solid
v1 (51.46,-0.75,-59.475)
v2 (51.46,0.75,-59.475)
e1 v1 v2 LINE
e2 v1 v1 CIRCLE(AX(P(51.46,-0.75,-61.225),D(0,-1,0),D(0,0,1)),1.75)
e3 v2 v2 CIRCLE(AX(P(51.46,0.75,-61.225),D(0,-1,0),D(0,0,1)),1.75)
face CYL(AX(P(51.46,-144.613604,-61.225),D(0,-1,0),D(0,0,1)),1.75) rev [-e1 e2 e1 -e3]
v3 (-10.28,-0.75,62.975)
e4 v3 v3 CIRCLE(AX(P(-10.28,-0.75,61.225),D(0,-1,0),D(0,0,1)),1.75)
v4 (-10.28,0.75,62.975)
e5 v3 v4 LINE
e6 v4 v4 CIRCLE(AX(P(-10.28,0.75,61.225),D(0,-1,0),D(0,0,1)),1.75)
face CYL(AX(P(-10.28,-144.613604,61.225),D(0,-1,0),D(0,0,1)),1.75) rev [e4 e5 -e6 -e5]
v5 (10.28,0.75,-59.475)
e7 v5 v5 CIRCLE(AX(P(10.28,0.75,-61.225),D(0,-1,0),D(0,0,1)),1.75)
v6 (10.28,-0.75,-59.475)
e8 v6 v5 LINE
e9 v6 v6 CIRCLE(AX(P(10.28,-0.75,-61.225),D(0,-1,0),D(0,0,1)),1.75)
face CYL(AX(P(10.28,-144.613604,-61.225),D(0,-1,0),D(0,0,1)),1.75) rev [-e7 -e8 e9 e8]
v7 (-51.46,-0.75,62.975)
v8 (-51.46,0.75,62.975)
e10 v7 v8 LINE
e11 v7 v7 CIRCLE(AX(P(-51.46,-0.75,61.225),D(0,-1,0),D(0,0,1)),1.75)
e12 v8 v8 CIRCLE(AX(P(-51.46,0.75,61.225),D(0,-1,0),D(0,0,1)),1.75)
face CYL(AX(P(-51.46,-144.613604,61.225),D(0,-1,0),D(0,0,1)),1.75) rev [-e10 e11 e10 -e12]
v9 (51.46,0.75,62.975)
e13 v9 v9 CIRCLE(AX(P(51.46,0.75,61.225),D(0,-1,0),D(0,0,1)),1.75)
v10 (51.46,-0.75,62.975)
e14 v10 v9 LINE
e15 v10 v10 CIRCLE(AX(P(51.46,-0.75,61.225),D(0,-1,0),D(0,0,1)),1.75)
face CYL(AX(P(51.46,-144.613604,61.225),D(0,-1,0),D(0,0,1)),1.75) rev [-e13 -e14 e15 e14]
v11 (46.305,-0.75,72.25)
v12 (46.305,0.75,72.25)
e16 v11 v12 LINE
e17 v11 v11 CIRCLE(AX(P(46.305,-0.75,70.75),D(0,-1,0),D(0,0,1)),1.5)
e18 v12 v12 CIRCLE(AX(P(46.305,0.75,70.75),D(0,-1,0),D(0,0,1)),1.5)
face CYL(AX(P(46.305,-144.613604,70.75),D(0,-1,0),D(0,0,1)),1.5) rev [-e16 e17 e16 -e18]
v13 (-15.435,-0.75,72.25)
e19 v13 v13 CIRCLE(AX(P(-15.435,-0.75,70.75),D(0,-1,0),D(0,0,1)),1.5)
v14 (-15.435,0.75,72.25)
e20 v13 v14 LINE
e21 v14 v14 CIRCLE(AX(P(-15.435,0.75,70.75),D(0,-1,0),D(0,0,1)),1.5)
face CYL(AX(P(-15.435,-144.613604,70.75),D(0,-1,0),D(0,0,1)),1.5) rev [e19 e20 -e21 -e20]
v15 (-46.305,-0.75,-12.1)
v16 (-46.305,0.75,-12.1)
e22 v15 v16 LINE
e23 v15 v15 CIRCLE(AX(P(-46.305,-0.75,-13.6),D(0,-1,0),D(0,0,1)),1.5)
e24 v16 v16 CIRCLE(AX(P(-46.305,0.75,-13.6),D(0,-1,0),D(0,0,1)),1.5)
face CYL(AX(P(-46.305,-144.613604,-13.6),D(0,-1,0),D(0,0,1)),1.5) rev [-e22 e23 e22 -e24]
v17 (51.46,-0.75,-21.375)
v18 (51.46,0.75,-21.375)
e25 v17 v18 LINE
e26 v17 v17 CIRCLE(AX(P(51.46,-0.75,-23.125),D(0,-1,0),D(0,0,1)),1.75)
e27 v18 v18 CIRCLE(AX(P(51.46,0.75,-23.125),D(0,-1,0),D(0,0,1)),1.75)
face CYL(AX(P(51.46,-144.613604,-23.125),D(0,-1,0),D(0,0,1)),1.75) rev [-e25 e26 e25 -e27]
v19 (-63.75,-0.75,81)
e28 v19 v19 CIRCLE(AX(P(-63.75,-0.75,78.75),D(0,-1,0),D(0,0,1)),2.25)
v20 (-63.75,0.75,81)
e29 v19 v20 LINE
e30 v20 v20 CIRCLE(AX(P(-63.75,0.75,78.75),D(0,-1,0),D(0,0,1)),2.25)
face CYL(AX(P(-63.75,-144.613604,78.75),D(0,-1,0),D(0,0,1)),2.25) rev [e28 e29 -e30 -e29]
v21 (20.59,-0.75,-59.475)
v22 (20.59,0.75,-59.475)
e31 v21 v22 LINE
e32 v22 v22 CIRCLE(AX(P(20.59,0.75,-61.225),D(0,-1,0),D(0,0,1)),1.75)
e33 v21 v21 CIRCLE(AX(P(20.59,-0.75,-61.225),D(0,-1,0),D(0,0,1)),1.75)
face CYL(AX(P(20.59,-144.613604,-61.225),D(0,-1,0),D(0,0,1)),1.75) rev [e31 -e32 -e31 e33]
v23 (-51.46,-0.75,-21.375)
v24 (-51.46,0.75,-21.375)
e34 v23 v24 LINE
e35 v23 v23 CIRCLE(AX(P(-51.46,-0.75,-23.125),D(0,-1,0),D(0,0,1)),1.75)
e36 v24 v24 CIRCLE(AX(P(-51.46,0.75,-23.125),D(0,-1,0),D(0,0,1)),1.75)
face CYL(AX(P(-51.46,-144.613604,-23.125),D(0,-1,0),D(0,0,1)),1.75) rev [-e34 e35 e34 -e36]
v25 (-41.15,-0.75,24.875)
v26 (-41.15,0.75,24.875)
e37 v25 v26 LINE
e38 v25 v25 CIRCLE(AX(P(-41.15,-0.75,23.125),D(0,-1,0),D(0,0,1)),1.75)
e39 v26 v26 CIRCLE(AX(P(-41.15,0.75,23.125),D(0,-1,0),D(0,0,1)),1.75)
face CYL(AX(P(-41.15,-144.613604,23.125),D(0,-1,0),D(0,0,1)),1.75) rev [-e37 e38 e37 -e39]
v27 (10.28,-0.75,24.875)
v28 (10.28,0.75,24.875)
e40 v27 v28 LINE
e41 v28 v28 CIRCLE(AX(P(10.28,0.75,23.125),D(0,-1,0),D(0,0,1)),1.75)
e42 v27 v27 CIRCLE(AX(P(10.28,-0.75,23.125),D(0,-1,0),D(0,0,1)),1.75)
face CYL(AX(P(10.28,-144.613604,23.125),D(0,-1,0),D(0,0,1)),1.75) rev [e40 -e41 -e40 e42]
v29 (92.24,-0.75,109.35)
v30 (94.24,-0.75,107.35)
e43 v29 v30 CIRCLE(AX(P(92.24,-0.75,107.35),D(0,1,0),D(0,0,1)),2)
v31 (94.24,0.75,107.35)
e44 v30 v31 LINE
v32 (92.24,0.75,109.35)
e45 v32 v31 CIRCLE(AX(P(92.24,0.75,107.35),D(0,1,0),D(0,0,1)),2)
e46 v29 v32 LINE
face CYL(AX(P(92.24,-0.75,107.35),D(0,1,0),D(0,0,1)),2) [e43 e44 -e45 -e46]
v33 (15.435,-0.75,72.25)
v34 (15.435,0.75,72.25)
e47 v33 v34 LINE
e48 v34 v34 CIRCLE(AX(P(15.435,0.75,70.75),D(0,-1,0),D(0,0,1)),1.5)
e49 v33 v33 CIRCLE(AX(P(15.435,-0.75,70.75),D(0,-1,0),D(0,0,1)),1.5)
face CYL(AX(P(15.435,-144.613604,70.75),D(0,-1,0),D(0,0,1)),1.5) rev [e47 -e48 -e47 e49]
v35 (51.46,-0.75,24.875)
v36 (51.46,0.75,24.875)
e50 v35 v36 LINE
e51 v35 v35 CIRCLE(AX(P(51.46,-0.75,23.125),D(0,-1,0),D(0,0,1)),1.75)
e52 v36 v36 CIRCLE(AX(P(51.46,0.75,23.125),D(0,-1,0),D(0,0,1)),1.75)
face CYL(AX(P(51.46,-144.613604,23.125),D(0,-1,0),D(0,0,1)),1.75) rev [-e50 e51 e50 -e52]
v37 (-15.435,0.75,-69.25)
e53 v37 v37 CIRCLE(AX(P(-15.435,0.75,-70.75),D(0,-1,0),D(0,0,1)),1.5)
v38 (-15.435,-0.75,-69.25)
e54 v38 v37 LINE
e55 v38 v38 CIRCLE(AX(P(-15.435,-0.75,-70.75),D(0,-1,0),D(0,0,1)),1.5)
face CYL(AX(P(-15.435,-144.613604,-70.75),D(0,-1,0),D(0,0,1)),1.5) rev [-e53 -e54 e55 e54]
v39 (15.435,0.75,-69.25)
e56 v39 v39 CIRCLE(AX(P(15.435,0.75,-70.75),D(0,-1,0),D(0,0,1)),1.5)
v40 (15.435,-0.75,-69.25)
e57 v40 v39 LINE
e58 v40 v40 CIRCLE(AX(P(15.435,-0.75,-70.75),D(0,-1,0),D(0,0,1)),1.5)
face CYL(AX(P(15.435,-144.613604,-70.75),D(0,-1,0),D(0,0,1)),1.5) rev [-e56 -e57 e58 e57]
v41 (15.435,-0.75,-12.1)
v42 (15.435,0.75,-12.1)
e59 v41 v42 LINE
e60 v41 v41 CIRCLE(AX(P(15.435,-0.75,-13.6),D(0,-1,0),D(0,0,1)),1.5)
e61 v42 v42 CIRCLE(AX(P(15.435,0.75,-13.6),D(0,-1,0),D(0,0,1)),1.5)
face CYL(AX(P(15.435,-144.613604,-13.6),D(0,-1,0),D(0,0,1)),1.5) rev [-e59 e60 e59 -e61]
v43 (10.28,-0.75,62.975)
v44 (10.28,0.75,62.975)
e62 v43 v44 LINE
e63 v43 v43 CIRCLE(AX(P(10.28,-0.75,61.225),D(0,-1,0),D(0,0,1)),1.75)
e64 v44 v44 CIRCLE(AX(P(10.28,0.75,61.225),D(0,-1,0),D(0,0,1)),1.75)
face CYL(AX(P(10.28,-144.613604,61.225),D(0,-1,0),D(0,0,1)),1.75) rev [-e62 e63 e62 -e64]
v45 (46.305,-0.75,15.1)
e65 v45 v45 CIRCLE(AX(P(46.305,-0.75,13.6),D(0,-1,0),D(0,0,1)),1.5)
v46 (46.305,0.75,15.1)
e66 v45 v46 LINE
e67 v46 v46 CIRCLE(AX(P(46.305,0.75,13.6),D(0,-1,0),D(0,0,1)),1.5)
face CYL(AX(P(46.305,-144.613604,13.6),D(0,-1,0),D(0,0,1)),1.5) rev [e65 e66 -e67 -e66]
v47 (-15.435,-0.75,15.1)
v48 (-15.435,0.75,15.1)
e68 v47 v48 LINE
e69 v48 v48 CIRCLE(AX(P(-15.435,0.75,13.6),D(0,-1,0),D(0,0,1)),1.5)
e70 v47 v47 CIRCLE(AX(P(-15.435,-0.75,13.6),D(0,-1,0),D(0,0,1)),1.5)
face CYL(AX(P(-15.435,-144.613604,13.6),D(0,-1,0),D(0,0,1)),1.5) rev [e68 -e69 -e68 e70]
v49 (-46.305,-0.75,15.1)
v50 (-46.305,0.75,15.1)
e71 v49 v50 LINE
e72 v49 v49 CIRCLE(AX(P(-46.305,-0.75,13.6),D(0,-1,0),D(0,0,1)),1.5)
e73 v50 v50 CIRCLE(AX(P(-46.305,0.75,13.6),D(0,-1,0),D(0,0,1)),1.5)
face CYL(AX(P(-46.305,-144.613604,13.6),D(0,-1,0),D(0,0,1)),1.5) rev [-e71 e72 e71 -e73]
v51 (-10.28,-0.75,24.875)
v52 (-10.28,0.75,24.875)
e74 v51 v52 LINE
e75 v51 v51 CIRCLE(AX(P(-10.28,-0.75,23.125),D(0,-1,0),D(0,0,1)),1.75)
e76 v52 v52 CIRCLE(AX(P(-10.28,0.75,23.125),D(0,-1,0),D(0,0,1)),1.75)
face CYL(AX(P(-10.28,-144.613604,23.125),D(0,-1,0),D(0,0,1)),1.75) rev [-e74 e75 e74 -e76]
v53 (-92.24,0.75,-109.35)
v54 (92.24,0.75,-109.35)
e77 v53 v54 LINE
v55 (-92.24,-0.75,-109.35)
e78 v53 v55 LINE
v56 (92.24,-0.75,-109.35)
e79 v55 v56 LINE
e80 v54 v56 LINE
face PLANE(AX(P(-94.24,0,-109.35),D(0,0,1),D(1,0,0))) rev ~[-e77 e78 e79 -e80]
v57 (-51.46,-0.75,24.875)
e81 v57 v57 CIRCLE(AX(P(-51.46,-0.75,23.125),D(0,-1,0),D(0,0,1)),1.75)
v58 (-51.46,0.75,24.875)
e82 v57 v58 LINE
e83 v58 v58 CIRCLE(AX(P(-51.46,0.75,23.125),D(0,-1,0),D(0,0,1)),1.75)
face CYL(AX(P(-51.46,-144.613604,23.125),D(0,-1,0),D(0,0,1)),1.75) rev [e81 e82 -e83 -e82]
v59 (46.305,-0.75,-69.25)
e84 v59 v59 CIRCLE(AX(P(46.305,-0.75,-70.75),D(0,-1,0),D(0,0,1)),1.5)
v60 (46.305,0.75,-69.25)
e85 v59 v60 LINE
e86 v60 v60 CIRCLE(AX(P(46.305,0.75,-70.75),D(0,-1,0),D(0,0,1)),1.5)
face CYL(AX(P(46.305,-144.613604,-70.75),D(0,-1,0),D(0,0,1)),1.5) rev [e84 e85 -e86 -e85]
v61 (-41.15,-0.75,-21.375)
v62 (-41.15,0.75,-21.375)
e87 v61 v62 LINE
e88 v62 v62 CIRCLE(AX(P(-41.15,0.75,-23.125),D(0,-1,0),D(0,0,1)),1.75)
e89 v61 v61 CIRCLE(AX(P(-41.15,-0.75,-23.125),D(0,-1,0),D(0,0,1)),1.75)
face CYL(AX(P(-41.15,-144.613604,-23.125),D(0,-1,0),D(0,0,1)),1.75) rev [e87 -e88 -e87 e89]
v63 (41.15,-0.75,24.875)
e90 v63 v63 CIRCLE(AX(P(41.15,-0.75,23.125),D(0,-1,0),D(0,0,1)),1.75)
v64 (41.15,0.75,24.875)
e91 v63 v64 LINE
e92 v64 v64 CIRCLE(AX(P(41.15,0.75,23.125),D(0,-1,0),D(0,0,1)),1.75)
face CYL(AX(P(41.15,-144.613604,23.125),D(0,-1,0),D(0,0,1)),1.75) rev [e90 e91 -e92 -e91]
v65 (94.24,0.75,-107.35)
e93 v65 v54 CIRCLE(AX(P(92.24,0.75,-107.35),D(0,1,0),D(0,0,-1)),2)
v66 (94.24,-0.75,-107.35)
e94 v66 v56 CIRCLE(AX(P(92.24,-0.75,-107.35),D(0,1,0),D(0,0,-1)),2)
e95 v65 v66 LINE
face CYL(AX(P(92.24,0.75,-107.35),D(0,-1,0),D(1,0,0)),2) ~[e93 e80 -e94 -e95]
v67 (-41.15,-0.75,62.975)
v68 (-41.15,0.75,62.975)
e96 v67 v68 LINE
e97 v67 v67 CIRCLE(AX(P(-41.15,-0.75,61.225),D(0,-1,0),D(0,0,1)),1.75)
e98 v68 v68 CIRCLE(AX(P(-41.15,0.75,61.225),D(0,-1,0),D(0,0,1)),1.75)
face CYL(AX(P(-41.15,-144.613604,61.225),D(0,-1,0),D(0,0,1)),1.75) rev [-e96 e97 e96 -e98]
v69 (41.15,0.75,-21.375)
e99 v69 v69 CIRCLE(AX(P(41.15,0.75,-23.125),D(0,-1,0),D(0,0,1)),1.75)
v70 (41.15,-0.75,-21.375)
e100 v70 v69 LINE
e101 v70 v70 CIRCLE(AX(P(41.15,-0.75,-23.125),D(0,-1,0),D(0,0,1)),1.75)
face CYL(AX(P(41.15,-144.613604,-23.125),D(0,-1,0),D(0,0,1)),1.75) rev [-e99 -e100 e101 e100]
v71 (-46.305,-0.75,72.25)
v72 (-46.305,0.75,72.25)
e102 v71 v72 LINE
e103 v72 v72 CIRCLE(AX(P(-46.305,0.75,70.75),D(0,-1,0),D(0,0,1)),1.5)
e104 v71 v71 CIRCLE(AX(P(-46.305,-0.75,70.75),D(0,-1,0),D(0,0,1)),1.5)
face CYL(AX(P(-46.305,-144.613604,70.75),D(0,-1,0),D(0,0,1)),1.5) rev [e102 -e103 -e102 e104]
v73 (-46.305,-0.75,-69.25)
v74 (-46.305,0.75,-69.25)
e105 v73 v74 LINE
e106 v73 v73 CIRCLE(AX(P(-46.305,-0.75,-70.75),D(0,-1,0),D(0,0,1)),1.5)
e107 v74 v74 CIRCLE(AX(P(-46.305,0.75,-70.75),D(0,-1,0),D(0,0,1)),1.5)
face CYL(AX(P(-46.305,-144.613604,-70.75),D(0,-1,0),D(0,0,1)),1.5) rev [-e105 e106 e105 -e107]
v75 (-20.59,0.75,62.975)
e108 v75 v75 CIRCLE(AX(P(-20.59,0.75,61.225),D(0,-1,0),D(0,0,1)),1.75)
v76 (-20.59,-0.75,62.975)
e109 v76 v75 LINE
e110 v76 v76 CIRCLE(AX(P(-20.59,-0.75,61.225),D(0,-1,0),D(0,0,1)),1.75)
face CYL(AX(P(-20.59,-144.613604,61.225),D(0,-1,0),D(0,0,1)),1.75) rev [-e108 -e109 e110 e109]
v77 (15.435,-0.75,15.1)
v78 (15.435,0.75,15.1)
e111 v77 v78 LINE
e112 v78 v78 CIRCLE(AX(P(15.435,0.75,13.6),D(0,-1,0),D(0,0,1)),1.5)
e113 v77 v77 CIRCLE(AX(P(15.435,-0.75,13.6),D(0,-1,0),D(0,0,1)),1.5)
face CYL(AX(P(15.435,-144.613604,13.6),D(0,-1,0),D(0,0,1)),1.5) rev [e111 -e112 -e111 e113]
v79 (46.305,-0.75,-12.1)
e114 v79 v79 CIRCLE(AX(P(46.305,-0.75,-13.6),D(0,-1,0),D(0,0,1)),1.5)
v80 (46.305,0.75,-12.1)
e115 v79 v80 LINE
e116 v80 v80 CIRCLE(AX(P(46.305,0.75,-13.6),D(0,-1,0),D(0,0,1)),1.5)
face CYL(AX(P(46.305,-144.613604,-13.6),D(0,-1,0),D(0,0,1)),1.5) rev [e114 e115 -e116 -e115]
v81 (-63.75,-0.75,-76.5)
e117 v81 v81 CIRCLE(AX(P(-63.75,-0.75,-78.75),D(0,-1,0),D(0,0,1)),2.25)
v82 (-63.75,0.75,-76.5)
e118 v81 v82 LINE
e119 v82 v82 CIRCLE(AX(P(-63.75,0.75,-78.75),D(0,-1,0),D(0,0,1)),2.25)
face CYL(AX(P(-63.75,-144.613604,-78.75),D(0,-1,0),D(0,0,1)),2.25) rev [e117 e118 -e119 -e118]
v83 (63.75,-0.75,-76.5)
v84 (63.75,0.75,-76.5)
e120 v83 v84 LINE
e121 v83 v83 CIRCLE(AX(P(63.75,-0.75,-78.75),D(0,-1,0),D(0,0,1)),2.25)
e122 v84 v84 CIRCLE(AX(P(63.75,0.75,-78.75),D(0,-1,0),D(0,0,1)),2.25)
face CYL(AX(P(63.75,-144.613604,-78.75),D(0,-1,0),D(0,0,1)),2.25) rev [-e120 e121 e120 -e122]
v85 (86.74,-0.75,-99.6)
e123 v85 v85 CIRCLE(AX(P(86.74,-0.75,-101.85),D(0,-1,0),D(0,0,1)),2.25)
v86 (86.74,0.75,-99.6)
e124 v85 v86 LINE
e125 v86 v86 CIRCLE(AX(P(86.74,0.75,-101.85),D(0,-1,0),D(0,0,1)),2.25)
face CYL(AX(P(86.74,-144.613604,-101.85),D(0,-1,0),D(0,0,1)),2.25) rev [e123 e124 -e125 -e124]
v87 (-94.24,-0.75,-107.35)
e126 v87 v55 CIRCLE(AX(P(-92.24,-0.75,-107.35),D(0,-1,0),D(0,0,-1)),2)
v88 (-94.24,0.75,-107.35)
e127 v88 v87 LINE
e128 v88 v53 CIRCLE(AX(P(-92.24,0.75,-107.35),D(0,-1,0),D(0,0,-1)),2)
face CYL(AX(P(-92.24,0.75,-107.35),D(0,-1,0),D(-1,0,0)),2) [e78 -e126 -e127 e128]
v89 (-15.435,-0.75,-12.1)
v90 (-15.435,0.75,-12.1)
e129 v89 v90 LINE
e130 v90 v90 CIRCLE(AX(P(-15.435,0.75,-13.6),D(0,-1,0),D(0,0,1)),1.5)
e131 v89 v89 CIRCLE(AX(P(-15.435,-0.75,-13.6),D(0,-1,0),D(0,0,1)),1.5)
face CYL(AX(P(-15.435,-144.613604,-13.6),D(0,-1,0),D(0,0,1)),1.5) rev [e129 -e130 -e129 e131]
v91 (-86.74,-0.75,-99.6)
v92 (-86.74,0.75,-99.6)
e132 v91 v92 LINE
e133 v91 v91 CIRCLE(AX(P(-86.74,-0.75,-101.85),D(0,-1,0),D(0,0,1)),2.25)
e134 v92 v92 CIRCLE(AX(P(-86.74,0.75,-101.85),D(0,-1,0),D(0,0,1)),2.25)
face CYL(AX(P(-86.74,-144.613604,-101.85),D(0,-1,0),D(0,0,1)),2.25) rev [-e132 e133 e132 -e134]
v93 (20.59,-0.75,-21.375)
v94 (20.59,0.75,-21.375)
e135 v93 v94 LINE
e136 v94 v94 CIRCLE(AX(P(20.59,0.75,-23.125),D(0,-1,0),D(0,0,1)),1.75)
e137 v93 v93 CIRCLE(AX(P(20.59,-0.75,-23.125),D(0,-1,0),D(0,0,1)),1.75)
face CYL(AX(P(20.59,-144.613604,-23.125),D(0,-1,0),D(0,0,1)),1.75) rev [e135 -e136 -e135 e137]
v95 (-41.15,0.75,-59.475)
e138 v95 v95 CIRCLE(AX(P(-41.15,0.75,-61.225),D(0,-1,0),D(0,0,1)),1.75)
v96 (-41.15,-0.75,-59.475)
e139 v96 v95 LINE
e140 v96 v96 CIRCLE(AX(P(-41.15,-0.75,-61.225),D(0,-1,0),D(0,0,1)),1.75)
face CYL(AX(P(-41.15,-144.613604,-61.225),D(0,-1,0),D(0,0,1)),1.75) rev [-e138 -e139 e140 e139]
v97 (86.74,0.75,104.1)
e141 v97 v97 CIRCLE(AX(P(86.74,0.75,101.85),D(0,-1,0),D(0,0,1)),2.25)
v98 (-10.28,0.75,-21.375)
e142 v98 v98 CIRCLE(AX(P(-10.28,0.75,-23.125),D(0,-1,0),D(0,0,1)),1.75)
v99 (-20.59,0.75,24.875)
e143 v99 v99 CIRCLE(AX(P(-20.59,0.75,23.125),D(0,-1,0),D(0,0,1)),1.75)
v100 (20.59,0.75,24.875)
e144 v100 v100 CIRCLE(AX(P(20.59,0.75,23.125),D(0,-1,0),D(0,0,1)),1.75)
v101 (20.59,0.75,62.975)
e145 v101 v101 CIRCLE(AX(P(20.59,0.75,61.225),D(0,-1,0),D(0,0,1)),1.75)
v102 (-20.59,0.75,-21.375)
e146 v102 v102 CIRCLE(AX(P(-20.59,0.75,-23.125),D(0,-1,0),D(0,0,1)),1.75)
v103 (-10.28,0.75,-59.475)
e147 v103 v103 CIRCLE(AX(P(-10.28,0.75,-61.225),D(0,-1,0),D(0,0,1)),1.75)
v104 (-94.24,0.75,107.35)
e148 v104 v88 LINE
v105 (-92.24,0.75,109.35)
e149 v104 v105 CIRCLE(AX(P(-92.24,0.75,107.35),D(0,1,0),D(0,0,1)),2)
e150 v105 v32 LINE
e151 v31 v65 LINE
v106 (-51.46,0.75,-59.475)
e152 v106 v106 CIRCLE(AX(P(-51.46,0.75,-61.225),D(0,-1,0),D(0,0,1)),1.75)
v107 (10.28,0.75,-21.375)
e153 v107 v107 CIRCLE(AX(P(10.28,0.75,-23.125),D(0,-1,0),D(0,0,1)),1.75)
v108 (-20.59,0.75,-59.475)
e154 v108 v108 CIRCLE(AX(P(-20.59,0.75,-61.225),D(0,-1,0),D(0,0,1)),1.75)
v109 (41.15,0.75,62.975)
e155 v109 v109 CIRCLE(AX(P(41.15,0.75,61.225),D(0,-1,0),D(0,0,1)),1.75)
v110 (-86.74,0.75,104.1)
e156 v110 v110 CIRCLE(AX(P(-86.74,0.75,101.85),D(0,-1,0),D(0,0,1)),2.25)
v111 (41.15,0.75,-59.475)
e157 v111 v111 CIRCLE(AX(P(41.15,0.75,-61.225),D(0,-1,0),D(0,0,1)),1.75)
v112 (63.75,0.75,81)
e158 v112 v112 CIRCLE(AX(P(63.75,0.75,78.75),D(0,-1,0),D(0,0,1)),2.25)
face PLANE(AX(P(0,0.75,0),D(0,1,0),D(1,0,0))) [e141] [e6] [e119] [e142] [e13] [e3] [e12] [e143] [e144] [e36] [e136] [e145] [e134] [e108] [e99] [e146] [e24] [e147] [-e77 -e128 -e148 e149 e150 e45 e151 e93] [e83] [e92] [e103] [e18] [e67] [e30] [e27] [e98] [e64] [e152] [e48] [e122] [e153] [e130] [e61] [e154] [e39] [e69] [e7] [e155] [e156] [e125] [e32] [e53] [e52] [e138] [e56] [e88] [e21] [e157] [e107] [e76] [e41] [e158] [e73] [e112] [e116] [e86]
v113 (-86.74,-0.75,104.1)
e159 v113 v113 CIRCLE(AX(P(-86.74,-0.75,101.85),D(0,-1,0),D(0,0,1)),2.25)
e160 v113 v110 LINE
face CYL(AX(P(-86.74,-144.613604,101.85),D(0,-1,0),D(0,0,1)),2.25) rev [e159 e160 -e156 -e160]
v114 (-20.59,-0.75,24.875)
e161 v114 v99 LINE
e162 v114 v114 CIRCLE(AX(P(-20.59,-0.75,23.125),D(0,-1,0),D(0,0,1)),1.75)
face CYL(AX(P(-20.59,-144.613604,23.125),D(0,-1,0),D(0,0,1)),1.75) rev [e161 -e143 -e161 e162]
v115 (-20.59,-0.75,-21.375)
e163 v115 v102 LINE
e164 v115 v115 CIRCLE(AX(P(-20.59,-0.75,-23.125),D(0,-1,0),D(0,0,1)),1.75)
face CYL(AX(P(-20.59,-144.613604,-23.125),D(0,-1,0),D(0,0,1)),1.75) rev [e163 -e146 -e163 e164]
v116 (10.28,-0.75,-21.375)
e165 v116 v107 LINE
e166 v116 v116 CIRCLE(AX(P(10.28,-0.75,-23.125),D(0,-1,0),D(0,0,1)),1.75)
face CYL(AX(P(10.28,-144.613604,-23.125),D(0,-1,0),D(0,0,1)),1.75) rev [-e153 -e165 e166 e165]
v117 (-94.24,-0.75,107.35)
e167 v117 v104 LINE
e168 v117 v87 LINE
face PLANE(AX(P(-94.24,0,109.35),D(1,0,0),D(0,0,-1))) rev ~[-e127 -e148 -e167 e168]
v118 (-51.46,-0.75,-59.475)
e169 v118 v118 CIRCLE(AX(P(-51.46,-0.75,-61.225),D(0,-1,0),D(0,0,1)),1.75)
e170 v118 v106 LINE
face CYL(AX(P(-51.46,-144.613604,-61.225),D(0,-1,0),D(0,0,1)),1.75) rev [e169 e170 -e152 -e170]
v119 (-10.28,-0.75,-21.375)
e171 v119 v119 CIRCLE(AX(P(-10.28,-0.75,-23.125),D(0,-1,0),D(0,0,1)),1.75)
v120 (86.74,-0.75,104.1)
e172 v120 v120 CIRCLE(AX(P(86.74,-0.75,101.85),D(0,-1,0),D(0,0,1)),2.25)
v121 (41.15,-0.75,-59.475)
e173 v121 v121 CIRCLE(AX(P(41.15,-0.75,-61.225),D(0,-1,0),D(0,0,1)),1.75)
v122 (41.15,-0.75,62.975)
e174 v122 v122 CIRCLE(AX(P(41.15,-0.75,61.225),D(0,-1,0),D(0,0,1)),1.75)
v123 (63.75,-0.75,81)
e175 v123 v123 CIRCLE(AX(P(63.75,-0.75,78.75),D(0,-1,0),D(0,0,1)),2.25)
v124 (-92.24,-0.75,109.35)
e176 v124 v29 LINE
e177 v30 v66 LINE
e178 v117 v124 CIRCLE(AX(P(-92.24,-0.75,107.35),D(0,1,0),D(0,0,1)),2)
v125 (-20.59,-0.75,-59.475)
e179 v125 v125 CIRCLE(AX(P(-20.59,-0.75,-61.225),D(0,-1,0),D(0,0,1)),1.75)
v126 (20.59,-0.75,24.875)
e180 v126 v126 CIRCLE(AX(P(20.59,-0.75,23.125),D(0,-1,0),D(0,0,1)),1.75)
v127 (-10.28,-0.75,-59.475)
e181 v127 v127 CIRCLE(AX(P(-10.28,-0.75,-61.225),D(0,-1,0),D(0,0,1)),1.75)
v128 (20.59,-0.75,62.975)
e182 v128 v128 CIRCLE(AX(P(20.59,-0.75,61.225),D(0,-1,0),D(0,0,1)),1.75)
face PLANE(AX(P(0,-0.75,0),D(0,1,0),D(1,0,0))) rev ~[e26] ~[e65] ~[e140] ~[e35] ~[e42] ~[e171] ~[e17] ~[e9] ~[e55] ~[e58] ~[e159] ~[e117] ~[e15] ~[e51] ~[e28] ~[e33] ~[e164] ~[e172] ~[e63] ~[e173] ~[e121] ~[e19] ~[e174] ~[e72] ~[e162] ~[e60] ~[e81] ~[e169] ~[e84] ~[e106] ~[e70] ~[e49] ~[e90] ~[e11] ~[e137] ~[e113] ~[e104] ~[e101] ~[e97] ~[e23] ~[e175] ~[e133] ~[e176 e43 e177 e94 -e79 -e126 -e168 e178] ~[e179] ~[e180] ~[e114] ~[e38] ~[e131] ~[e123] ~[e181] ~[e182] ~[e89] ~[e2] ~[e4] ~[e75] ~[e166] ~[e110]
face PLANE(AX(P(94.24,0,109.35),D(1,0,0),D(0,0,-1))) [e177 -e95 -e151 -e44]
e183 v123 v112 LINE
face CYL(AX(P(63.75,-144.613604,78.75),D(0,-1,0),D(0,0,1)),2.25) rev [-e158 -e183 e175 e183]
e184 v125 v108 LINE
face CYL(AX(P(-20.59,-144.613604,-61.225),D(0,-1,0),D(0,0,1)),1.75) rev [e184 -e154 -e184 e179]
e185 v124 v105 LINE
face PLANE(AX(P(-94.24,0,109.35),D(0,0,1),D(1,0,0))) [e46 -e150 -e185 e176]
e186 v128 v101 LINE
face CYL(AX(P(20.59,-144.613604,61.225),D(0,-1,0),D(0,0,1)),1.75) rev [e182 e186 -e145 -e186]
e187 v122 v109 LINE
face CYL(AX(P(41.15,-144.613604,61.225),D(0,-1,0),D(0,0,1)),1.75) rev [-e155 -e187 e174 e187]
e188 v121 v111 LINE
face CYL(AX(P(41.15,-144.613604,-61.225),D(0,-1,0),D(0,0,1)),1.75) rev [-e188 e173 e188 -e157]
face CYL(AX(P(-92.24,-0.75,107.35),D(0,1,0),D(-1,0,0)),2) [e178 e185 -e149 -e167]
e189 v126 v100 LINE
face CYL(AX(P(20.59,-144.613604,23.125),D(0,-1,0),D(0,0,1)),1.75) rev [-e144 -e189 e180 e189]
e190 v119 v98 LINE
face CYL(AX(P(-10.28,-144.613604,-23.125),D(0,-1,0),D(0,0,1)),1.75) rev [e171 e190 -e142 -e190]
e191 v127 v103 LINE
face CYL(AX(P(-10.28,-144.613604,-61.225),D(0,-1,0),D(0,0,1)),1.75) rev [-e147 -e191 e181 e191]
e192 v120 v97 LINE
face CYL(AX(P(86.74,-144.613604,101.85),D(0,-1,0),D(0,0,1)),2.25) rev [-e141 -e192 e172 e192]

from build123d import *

# Parameters (mm, degrees)
SKETCH1_W               = 188.48
SKETCH1_H               = 218.7
BOSS_EXTRUDE1_DEPTH     = 0.75
CUT_EXTRUDE1_DEPTH      = 145.363603793
CUT_EXTRUDE1_DEPTH_BACK = 145.363603793
SKETCH2_R               = 1.75
SKETCH2_R_2             = 1.5
FILLET1_R               = 2
FILLET2_R               = 2
FILLET3_R               = 2
FILLET4_R               = 2
CUT_EXTRUDE2_DEPTH      = 145.363603793
CUT_EXTRUDE2_DEPTH_BACK = 145.363603793
SKETCH3_R               = 2.25


with BuildPart() as part:
    # Sketch1 → Boss-Extrude1 (new, symmetric)
    with BuildSketch(Plane(origin=(0, 0, 0), x_dir=(1, 0, 0), z_dir=(0, 1, 0))):
        Rectangle(SKETCH1_W, SKETCH1_H)
    extrude(amount=BOSS_EXTRUDE1_DEPTH, both=True)

    # Sketch2 → Cut-Extrude1 (cut, two sides: drawn at the far end of the back side and taken through both)
    with BuildSketch(Plane(origin=(0, 0.75, 0), x_dir=(1, 0, 0), z_dir=(0, 1, 0)).offset(-CUT_EXTRUDE1_DEPTH_BACK)):
        with Locations(Location((-41.15, 61.225, 0), (0, 0, 270))):
            Circle(SKETCH2_R)
        with Locations(Location((-51.46, 61.225, 0), (0, 0, 270))):
            Circle(SKETCH2_R)
        with Locations(Location((-51.46, 23.125, 0), (0, 0, 270))):
            Circle(SKETCH2_R)
        with Locations(Location((-41.15, 23.125, 0), (0, 0, 270))):
            Circle(SKETCH2_R)
        with Locations(Location((-46.305, 70.75, 0), (0, 0, 270))):
            Circle(SKETCH2_R_2)
        with Locations(Location((-46.305, 13.6, 0), (0, 0, 270))):
            Circle(SKETCH2_R_2)
        with Locations(Location((-10.28, 61.225, 0), (0, 0, 270))):
            Circle(SKETCH2_R)
        with Locations(Location((-20.59, 61.225, 0), (0, 0, 270))):
            Circle(SKETCH2_R)
        with Locations(Location((-20.59, 23.125, 0), (0, 0, 270))):
            Circle(SKETCH2_R)
        with Locations(Location((-10.28, 23.125, 0), (0, 0, 270))):
            Circle(SKETCH2_R)
        with Locations(Location((-15.435, 70.75, 0), (0, 0, 270))):
            Circle(SKETCH2_R_2)
        with Locations(Location((-15.435, 13.6, 0), (0, 0, 270))):
            Circle(SKETCH2_R_2)
        with Locations(Location((20.59, 61.225, 0), (0, 0, 270))):
            Circle(SKETCH2_R)
        with Locations(Location((10.28, 61.225, 0), (0, 0, 270))):
            Circle(SKETCH2_R)
        with Locations(Location((10.28, 23.125, 0), (0, 0, 270))):
            Circle(SKETCH2_R)
        with Locations(Location((20.59, 23.125, 0), (0, 0, 270))):
            Circle(SKETCH2_R)
        with Locations(Location((15.435, 70.75, 0), (0, 0, 270))):
            Circle(SKETCH2_R_2)
        with Locations(Location((15.435, 13.6, 0), (0, 0, 270))):
            Circle(SKETCH2_R_2)
        with Locations(Location((51.46, 61.225, 0), (0, 0, 270))):
            Circle(SKETCH2_R)
        with Locations(Location((41.15, 61.225, 0), (0, 0, 270))):
            Circle(SKETCH2_R)
        with Locations(Location((41.15, 23.125, 0), (0, 0, 270))):
            Circle(SKETCH2_R)
        with Locations(Location((51.46, 23.125, 0), (0, 0, 270))):
            Circle(SKETCH2_R)
        with Locations(Location((46.305, 70.75, 0), (0, 0, 270))):
            Circle(SKETCH2_R_2)
        with Locations(Location((46.305, 13.6, 0), (0, 0, 270))):
            Circle(SKETCH2_R_2)
        with Locations(Location((46.305, -13.6, 0), (0, 0, 270))):
            Circle(SKETCH2_R_2)
        with Locations(Location((46.305, -70.75, 0), (0, 0, 270))):
            Circle(SKETCH2_R_2)
        with Locations(Location((51.46, -23.125, 0), (0, 0, 270))):
            Circle(SKETCH2_R)
        with Locations(Location((41.15, -23.125, 0), (0, 0, 270))):
            Circle(SKETCH2_R)
        with Locations(Location((41.15, -61.225, 0), (0, 0, 270))):
            Circle(SKETCH2_R)
        with Locations(Location((51.46, -61.225, 0), (0, 0, 270))):
            Circle(SKETCH2_R)
        with Locations(Location((15.435, -13.6, 0), (0, 0, 270))):
            Circle(SKETCH2_R_2)
        with Locations(Location((15.435, -70.75, 0), (0, 0, 270))):
            Circle(SKETCH2_R_2)
        with Locations(Location((20.59, -23.125, 0), (0, 0, 270))):
            Circle(SKETCH2_R)
        with Locations(Location((10.28, -23.125, 0), (0, 0, 270))):
            Circle(SKETCH2_R)
        with Locations(Location((10.28, -61.225, 0), (0, 0, 270))):
            Circle(SKETCH2_R)
        with Locations(Location((20.59, -61.225, 0), (0, 0, 270))):
            Circle(SKETCH2_R)
        with Locations(Location((-15.435, -13.6, 0), (0, 0, 270))):
            Circle(SKETCH2_R_2)
        with Locations(Location((-15.435, -70.75, 0), (0, 0, 270))):
            Circle(SKETCH2_R_2)
        with Locations(Location((-10.28, -23.125, 0), (0, 0, 270))):
            Circle(SKETCH2_R)
        with Locations(Location((-20.59, -23.125, 0), (0, 0, 270))):
            Circle(SKETCH2_R)
        with Locations(Location((-20.59, -61.225, 0), (0, 0, 270))):
            Circle(SKETCH2_R)
        with Locations(Location((-10.28, -61.225, 0), (0, 0, 270))):
            Circle(SKETCH2_R)
        with Locations(Location((-46.305, -13.6, 0), (0, 0, 270))):
            Circle(SKETCH2_R_2)
        with Locations(Location((-46.305, -70.75, 0), (0, 0, 270))):
            Circle(SKETCH2_R_2)
        with Locations(Location((-41.15, -23.125, 0), (0, 0, 270))):
            Circle(SKETCH2_R)
        with Locations(Location((-51.46, -23.125, 0), (0, 0, 270))):
            Circle(SKETCH2_R)
        with Locations(Location((-51.46, -61.225, 0), (0, 0, 270))):
            Circle(SKETCH2_R)
        with Locations(Location((-41.15, -61.225, 0), (0, 0, 270))):
            Circle(SKETCH2_R)
    extrude(amount=CUT_EXTRUDE1_DEPTH + CUT_EXTRUDE1_DEPTH_BACK, mode=Mode.SUBTRACT)

    # Fillet1
    fillet1_edges = [part.edges().sort_by_distance(p)[0] for p in [
        (-94.24, 0, -109.35),
    ]]
    fillet(fillet1_edges, radius=FILLET1_R)

    # Fillet2
    fillet2_edges = [part.edges().sort_by_distance(p)[0] for p in [
        (-94.24, 0, 109.35),
    ]]
    fillet(fillet2_edges, radius=FILLET2_R)

    # Fillet3
    fillet3_edges = [part.edges().sort_by_distance(p)[0] for p in [
        (94.24, 0, 109.35),
    ]]
    fillet(fillet3_edges, radius=FILLET3_R)

    # Fillet4
    fillet4_edges = [part.edges().sort_by_distance(p)[0] for p in [
        (94.24, 0, -109.35),
    ]]
    fillet(fillet4_edges, radius=FILLET4_R)

    # Sketch3 → Cut-Extrude2 (cut, two sides: drawn at the far end of the back side and taken through both)
    with BuildSketch(Plane(origin=(0, 0.75, 0), x_dir=(1, 0, 0), z_dir=(0, 1, 0)).offset(-CUT_EXTRUDE2_DEPTH_BACK)):
        with Locations(Location((-86.74, 101.85, 0), (0, 0, 270))):
            Circle(SKETCH3_R)
        with Locations(Location((86.74, 101.85, 0), (0, 0, 270))):
            Circle(SKETCH3_R)
        with Locations(Location((86.74, -101.85, 0), (0, 0, 270))):
            Circle(SKETCH3_R)
        with Locations(Location((-86.74, -101.85, 0), (0, 0, 270))):
            Circle(SKETCH3_R)
        with Locations(Location((-63.75, 78.75, 0), (0, 0, 270))):
            Circle(SKETCH3_R)
        with Locations(Location((63.75, 78.75, 0), (0, 0, 270))):
            Circle(SKETCH3_R)
        with Locations(Location((63.75, -78.75, 0), (0, 0, 270))):
            Circle(SKETCH3_R)
        with Locations(Location((-63.75, -78.75, 0), (0, 0, 270))):
            Circle(SKETCH3_R)
    extrude(amount=CUT_EXTRUDE2_DEPTH + CUT_EXTRUDE2_DEPTH_BACK, mode=Mode.SUBTRACT)


solid = part.part
